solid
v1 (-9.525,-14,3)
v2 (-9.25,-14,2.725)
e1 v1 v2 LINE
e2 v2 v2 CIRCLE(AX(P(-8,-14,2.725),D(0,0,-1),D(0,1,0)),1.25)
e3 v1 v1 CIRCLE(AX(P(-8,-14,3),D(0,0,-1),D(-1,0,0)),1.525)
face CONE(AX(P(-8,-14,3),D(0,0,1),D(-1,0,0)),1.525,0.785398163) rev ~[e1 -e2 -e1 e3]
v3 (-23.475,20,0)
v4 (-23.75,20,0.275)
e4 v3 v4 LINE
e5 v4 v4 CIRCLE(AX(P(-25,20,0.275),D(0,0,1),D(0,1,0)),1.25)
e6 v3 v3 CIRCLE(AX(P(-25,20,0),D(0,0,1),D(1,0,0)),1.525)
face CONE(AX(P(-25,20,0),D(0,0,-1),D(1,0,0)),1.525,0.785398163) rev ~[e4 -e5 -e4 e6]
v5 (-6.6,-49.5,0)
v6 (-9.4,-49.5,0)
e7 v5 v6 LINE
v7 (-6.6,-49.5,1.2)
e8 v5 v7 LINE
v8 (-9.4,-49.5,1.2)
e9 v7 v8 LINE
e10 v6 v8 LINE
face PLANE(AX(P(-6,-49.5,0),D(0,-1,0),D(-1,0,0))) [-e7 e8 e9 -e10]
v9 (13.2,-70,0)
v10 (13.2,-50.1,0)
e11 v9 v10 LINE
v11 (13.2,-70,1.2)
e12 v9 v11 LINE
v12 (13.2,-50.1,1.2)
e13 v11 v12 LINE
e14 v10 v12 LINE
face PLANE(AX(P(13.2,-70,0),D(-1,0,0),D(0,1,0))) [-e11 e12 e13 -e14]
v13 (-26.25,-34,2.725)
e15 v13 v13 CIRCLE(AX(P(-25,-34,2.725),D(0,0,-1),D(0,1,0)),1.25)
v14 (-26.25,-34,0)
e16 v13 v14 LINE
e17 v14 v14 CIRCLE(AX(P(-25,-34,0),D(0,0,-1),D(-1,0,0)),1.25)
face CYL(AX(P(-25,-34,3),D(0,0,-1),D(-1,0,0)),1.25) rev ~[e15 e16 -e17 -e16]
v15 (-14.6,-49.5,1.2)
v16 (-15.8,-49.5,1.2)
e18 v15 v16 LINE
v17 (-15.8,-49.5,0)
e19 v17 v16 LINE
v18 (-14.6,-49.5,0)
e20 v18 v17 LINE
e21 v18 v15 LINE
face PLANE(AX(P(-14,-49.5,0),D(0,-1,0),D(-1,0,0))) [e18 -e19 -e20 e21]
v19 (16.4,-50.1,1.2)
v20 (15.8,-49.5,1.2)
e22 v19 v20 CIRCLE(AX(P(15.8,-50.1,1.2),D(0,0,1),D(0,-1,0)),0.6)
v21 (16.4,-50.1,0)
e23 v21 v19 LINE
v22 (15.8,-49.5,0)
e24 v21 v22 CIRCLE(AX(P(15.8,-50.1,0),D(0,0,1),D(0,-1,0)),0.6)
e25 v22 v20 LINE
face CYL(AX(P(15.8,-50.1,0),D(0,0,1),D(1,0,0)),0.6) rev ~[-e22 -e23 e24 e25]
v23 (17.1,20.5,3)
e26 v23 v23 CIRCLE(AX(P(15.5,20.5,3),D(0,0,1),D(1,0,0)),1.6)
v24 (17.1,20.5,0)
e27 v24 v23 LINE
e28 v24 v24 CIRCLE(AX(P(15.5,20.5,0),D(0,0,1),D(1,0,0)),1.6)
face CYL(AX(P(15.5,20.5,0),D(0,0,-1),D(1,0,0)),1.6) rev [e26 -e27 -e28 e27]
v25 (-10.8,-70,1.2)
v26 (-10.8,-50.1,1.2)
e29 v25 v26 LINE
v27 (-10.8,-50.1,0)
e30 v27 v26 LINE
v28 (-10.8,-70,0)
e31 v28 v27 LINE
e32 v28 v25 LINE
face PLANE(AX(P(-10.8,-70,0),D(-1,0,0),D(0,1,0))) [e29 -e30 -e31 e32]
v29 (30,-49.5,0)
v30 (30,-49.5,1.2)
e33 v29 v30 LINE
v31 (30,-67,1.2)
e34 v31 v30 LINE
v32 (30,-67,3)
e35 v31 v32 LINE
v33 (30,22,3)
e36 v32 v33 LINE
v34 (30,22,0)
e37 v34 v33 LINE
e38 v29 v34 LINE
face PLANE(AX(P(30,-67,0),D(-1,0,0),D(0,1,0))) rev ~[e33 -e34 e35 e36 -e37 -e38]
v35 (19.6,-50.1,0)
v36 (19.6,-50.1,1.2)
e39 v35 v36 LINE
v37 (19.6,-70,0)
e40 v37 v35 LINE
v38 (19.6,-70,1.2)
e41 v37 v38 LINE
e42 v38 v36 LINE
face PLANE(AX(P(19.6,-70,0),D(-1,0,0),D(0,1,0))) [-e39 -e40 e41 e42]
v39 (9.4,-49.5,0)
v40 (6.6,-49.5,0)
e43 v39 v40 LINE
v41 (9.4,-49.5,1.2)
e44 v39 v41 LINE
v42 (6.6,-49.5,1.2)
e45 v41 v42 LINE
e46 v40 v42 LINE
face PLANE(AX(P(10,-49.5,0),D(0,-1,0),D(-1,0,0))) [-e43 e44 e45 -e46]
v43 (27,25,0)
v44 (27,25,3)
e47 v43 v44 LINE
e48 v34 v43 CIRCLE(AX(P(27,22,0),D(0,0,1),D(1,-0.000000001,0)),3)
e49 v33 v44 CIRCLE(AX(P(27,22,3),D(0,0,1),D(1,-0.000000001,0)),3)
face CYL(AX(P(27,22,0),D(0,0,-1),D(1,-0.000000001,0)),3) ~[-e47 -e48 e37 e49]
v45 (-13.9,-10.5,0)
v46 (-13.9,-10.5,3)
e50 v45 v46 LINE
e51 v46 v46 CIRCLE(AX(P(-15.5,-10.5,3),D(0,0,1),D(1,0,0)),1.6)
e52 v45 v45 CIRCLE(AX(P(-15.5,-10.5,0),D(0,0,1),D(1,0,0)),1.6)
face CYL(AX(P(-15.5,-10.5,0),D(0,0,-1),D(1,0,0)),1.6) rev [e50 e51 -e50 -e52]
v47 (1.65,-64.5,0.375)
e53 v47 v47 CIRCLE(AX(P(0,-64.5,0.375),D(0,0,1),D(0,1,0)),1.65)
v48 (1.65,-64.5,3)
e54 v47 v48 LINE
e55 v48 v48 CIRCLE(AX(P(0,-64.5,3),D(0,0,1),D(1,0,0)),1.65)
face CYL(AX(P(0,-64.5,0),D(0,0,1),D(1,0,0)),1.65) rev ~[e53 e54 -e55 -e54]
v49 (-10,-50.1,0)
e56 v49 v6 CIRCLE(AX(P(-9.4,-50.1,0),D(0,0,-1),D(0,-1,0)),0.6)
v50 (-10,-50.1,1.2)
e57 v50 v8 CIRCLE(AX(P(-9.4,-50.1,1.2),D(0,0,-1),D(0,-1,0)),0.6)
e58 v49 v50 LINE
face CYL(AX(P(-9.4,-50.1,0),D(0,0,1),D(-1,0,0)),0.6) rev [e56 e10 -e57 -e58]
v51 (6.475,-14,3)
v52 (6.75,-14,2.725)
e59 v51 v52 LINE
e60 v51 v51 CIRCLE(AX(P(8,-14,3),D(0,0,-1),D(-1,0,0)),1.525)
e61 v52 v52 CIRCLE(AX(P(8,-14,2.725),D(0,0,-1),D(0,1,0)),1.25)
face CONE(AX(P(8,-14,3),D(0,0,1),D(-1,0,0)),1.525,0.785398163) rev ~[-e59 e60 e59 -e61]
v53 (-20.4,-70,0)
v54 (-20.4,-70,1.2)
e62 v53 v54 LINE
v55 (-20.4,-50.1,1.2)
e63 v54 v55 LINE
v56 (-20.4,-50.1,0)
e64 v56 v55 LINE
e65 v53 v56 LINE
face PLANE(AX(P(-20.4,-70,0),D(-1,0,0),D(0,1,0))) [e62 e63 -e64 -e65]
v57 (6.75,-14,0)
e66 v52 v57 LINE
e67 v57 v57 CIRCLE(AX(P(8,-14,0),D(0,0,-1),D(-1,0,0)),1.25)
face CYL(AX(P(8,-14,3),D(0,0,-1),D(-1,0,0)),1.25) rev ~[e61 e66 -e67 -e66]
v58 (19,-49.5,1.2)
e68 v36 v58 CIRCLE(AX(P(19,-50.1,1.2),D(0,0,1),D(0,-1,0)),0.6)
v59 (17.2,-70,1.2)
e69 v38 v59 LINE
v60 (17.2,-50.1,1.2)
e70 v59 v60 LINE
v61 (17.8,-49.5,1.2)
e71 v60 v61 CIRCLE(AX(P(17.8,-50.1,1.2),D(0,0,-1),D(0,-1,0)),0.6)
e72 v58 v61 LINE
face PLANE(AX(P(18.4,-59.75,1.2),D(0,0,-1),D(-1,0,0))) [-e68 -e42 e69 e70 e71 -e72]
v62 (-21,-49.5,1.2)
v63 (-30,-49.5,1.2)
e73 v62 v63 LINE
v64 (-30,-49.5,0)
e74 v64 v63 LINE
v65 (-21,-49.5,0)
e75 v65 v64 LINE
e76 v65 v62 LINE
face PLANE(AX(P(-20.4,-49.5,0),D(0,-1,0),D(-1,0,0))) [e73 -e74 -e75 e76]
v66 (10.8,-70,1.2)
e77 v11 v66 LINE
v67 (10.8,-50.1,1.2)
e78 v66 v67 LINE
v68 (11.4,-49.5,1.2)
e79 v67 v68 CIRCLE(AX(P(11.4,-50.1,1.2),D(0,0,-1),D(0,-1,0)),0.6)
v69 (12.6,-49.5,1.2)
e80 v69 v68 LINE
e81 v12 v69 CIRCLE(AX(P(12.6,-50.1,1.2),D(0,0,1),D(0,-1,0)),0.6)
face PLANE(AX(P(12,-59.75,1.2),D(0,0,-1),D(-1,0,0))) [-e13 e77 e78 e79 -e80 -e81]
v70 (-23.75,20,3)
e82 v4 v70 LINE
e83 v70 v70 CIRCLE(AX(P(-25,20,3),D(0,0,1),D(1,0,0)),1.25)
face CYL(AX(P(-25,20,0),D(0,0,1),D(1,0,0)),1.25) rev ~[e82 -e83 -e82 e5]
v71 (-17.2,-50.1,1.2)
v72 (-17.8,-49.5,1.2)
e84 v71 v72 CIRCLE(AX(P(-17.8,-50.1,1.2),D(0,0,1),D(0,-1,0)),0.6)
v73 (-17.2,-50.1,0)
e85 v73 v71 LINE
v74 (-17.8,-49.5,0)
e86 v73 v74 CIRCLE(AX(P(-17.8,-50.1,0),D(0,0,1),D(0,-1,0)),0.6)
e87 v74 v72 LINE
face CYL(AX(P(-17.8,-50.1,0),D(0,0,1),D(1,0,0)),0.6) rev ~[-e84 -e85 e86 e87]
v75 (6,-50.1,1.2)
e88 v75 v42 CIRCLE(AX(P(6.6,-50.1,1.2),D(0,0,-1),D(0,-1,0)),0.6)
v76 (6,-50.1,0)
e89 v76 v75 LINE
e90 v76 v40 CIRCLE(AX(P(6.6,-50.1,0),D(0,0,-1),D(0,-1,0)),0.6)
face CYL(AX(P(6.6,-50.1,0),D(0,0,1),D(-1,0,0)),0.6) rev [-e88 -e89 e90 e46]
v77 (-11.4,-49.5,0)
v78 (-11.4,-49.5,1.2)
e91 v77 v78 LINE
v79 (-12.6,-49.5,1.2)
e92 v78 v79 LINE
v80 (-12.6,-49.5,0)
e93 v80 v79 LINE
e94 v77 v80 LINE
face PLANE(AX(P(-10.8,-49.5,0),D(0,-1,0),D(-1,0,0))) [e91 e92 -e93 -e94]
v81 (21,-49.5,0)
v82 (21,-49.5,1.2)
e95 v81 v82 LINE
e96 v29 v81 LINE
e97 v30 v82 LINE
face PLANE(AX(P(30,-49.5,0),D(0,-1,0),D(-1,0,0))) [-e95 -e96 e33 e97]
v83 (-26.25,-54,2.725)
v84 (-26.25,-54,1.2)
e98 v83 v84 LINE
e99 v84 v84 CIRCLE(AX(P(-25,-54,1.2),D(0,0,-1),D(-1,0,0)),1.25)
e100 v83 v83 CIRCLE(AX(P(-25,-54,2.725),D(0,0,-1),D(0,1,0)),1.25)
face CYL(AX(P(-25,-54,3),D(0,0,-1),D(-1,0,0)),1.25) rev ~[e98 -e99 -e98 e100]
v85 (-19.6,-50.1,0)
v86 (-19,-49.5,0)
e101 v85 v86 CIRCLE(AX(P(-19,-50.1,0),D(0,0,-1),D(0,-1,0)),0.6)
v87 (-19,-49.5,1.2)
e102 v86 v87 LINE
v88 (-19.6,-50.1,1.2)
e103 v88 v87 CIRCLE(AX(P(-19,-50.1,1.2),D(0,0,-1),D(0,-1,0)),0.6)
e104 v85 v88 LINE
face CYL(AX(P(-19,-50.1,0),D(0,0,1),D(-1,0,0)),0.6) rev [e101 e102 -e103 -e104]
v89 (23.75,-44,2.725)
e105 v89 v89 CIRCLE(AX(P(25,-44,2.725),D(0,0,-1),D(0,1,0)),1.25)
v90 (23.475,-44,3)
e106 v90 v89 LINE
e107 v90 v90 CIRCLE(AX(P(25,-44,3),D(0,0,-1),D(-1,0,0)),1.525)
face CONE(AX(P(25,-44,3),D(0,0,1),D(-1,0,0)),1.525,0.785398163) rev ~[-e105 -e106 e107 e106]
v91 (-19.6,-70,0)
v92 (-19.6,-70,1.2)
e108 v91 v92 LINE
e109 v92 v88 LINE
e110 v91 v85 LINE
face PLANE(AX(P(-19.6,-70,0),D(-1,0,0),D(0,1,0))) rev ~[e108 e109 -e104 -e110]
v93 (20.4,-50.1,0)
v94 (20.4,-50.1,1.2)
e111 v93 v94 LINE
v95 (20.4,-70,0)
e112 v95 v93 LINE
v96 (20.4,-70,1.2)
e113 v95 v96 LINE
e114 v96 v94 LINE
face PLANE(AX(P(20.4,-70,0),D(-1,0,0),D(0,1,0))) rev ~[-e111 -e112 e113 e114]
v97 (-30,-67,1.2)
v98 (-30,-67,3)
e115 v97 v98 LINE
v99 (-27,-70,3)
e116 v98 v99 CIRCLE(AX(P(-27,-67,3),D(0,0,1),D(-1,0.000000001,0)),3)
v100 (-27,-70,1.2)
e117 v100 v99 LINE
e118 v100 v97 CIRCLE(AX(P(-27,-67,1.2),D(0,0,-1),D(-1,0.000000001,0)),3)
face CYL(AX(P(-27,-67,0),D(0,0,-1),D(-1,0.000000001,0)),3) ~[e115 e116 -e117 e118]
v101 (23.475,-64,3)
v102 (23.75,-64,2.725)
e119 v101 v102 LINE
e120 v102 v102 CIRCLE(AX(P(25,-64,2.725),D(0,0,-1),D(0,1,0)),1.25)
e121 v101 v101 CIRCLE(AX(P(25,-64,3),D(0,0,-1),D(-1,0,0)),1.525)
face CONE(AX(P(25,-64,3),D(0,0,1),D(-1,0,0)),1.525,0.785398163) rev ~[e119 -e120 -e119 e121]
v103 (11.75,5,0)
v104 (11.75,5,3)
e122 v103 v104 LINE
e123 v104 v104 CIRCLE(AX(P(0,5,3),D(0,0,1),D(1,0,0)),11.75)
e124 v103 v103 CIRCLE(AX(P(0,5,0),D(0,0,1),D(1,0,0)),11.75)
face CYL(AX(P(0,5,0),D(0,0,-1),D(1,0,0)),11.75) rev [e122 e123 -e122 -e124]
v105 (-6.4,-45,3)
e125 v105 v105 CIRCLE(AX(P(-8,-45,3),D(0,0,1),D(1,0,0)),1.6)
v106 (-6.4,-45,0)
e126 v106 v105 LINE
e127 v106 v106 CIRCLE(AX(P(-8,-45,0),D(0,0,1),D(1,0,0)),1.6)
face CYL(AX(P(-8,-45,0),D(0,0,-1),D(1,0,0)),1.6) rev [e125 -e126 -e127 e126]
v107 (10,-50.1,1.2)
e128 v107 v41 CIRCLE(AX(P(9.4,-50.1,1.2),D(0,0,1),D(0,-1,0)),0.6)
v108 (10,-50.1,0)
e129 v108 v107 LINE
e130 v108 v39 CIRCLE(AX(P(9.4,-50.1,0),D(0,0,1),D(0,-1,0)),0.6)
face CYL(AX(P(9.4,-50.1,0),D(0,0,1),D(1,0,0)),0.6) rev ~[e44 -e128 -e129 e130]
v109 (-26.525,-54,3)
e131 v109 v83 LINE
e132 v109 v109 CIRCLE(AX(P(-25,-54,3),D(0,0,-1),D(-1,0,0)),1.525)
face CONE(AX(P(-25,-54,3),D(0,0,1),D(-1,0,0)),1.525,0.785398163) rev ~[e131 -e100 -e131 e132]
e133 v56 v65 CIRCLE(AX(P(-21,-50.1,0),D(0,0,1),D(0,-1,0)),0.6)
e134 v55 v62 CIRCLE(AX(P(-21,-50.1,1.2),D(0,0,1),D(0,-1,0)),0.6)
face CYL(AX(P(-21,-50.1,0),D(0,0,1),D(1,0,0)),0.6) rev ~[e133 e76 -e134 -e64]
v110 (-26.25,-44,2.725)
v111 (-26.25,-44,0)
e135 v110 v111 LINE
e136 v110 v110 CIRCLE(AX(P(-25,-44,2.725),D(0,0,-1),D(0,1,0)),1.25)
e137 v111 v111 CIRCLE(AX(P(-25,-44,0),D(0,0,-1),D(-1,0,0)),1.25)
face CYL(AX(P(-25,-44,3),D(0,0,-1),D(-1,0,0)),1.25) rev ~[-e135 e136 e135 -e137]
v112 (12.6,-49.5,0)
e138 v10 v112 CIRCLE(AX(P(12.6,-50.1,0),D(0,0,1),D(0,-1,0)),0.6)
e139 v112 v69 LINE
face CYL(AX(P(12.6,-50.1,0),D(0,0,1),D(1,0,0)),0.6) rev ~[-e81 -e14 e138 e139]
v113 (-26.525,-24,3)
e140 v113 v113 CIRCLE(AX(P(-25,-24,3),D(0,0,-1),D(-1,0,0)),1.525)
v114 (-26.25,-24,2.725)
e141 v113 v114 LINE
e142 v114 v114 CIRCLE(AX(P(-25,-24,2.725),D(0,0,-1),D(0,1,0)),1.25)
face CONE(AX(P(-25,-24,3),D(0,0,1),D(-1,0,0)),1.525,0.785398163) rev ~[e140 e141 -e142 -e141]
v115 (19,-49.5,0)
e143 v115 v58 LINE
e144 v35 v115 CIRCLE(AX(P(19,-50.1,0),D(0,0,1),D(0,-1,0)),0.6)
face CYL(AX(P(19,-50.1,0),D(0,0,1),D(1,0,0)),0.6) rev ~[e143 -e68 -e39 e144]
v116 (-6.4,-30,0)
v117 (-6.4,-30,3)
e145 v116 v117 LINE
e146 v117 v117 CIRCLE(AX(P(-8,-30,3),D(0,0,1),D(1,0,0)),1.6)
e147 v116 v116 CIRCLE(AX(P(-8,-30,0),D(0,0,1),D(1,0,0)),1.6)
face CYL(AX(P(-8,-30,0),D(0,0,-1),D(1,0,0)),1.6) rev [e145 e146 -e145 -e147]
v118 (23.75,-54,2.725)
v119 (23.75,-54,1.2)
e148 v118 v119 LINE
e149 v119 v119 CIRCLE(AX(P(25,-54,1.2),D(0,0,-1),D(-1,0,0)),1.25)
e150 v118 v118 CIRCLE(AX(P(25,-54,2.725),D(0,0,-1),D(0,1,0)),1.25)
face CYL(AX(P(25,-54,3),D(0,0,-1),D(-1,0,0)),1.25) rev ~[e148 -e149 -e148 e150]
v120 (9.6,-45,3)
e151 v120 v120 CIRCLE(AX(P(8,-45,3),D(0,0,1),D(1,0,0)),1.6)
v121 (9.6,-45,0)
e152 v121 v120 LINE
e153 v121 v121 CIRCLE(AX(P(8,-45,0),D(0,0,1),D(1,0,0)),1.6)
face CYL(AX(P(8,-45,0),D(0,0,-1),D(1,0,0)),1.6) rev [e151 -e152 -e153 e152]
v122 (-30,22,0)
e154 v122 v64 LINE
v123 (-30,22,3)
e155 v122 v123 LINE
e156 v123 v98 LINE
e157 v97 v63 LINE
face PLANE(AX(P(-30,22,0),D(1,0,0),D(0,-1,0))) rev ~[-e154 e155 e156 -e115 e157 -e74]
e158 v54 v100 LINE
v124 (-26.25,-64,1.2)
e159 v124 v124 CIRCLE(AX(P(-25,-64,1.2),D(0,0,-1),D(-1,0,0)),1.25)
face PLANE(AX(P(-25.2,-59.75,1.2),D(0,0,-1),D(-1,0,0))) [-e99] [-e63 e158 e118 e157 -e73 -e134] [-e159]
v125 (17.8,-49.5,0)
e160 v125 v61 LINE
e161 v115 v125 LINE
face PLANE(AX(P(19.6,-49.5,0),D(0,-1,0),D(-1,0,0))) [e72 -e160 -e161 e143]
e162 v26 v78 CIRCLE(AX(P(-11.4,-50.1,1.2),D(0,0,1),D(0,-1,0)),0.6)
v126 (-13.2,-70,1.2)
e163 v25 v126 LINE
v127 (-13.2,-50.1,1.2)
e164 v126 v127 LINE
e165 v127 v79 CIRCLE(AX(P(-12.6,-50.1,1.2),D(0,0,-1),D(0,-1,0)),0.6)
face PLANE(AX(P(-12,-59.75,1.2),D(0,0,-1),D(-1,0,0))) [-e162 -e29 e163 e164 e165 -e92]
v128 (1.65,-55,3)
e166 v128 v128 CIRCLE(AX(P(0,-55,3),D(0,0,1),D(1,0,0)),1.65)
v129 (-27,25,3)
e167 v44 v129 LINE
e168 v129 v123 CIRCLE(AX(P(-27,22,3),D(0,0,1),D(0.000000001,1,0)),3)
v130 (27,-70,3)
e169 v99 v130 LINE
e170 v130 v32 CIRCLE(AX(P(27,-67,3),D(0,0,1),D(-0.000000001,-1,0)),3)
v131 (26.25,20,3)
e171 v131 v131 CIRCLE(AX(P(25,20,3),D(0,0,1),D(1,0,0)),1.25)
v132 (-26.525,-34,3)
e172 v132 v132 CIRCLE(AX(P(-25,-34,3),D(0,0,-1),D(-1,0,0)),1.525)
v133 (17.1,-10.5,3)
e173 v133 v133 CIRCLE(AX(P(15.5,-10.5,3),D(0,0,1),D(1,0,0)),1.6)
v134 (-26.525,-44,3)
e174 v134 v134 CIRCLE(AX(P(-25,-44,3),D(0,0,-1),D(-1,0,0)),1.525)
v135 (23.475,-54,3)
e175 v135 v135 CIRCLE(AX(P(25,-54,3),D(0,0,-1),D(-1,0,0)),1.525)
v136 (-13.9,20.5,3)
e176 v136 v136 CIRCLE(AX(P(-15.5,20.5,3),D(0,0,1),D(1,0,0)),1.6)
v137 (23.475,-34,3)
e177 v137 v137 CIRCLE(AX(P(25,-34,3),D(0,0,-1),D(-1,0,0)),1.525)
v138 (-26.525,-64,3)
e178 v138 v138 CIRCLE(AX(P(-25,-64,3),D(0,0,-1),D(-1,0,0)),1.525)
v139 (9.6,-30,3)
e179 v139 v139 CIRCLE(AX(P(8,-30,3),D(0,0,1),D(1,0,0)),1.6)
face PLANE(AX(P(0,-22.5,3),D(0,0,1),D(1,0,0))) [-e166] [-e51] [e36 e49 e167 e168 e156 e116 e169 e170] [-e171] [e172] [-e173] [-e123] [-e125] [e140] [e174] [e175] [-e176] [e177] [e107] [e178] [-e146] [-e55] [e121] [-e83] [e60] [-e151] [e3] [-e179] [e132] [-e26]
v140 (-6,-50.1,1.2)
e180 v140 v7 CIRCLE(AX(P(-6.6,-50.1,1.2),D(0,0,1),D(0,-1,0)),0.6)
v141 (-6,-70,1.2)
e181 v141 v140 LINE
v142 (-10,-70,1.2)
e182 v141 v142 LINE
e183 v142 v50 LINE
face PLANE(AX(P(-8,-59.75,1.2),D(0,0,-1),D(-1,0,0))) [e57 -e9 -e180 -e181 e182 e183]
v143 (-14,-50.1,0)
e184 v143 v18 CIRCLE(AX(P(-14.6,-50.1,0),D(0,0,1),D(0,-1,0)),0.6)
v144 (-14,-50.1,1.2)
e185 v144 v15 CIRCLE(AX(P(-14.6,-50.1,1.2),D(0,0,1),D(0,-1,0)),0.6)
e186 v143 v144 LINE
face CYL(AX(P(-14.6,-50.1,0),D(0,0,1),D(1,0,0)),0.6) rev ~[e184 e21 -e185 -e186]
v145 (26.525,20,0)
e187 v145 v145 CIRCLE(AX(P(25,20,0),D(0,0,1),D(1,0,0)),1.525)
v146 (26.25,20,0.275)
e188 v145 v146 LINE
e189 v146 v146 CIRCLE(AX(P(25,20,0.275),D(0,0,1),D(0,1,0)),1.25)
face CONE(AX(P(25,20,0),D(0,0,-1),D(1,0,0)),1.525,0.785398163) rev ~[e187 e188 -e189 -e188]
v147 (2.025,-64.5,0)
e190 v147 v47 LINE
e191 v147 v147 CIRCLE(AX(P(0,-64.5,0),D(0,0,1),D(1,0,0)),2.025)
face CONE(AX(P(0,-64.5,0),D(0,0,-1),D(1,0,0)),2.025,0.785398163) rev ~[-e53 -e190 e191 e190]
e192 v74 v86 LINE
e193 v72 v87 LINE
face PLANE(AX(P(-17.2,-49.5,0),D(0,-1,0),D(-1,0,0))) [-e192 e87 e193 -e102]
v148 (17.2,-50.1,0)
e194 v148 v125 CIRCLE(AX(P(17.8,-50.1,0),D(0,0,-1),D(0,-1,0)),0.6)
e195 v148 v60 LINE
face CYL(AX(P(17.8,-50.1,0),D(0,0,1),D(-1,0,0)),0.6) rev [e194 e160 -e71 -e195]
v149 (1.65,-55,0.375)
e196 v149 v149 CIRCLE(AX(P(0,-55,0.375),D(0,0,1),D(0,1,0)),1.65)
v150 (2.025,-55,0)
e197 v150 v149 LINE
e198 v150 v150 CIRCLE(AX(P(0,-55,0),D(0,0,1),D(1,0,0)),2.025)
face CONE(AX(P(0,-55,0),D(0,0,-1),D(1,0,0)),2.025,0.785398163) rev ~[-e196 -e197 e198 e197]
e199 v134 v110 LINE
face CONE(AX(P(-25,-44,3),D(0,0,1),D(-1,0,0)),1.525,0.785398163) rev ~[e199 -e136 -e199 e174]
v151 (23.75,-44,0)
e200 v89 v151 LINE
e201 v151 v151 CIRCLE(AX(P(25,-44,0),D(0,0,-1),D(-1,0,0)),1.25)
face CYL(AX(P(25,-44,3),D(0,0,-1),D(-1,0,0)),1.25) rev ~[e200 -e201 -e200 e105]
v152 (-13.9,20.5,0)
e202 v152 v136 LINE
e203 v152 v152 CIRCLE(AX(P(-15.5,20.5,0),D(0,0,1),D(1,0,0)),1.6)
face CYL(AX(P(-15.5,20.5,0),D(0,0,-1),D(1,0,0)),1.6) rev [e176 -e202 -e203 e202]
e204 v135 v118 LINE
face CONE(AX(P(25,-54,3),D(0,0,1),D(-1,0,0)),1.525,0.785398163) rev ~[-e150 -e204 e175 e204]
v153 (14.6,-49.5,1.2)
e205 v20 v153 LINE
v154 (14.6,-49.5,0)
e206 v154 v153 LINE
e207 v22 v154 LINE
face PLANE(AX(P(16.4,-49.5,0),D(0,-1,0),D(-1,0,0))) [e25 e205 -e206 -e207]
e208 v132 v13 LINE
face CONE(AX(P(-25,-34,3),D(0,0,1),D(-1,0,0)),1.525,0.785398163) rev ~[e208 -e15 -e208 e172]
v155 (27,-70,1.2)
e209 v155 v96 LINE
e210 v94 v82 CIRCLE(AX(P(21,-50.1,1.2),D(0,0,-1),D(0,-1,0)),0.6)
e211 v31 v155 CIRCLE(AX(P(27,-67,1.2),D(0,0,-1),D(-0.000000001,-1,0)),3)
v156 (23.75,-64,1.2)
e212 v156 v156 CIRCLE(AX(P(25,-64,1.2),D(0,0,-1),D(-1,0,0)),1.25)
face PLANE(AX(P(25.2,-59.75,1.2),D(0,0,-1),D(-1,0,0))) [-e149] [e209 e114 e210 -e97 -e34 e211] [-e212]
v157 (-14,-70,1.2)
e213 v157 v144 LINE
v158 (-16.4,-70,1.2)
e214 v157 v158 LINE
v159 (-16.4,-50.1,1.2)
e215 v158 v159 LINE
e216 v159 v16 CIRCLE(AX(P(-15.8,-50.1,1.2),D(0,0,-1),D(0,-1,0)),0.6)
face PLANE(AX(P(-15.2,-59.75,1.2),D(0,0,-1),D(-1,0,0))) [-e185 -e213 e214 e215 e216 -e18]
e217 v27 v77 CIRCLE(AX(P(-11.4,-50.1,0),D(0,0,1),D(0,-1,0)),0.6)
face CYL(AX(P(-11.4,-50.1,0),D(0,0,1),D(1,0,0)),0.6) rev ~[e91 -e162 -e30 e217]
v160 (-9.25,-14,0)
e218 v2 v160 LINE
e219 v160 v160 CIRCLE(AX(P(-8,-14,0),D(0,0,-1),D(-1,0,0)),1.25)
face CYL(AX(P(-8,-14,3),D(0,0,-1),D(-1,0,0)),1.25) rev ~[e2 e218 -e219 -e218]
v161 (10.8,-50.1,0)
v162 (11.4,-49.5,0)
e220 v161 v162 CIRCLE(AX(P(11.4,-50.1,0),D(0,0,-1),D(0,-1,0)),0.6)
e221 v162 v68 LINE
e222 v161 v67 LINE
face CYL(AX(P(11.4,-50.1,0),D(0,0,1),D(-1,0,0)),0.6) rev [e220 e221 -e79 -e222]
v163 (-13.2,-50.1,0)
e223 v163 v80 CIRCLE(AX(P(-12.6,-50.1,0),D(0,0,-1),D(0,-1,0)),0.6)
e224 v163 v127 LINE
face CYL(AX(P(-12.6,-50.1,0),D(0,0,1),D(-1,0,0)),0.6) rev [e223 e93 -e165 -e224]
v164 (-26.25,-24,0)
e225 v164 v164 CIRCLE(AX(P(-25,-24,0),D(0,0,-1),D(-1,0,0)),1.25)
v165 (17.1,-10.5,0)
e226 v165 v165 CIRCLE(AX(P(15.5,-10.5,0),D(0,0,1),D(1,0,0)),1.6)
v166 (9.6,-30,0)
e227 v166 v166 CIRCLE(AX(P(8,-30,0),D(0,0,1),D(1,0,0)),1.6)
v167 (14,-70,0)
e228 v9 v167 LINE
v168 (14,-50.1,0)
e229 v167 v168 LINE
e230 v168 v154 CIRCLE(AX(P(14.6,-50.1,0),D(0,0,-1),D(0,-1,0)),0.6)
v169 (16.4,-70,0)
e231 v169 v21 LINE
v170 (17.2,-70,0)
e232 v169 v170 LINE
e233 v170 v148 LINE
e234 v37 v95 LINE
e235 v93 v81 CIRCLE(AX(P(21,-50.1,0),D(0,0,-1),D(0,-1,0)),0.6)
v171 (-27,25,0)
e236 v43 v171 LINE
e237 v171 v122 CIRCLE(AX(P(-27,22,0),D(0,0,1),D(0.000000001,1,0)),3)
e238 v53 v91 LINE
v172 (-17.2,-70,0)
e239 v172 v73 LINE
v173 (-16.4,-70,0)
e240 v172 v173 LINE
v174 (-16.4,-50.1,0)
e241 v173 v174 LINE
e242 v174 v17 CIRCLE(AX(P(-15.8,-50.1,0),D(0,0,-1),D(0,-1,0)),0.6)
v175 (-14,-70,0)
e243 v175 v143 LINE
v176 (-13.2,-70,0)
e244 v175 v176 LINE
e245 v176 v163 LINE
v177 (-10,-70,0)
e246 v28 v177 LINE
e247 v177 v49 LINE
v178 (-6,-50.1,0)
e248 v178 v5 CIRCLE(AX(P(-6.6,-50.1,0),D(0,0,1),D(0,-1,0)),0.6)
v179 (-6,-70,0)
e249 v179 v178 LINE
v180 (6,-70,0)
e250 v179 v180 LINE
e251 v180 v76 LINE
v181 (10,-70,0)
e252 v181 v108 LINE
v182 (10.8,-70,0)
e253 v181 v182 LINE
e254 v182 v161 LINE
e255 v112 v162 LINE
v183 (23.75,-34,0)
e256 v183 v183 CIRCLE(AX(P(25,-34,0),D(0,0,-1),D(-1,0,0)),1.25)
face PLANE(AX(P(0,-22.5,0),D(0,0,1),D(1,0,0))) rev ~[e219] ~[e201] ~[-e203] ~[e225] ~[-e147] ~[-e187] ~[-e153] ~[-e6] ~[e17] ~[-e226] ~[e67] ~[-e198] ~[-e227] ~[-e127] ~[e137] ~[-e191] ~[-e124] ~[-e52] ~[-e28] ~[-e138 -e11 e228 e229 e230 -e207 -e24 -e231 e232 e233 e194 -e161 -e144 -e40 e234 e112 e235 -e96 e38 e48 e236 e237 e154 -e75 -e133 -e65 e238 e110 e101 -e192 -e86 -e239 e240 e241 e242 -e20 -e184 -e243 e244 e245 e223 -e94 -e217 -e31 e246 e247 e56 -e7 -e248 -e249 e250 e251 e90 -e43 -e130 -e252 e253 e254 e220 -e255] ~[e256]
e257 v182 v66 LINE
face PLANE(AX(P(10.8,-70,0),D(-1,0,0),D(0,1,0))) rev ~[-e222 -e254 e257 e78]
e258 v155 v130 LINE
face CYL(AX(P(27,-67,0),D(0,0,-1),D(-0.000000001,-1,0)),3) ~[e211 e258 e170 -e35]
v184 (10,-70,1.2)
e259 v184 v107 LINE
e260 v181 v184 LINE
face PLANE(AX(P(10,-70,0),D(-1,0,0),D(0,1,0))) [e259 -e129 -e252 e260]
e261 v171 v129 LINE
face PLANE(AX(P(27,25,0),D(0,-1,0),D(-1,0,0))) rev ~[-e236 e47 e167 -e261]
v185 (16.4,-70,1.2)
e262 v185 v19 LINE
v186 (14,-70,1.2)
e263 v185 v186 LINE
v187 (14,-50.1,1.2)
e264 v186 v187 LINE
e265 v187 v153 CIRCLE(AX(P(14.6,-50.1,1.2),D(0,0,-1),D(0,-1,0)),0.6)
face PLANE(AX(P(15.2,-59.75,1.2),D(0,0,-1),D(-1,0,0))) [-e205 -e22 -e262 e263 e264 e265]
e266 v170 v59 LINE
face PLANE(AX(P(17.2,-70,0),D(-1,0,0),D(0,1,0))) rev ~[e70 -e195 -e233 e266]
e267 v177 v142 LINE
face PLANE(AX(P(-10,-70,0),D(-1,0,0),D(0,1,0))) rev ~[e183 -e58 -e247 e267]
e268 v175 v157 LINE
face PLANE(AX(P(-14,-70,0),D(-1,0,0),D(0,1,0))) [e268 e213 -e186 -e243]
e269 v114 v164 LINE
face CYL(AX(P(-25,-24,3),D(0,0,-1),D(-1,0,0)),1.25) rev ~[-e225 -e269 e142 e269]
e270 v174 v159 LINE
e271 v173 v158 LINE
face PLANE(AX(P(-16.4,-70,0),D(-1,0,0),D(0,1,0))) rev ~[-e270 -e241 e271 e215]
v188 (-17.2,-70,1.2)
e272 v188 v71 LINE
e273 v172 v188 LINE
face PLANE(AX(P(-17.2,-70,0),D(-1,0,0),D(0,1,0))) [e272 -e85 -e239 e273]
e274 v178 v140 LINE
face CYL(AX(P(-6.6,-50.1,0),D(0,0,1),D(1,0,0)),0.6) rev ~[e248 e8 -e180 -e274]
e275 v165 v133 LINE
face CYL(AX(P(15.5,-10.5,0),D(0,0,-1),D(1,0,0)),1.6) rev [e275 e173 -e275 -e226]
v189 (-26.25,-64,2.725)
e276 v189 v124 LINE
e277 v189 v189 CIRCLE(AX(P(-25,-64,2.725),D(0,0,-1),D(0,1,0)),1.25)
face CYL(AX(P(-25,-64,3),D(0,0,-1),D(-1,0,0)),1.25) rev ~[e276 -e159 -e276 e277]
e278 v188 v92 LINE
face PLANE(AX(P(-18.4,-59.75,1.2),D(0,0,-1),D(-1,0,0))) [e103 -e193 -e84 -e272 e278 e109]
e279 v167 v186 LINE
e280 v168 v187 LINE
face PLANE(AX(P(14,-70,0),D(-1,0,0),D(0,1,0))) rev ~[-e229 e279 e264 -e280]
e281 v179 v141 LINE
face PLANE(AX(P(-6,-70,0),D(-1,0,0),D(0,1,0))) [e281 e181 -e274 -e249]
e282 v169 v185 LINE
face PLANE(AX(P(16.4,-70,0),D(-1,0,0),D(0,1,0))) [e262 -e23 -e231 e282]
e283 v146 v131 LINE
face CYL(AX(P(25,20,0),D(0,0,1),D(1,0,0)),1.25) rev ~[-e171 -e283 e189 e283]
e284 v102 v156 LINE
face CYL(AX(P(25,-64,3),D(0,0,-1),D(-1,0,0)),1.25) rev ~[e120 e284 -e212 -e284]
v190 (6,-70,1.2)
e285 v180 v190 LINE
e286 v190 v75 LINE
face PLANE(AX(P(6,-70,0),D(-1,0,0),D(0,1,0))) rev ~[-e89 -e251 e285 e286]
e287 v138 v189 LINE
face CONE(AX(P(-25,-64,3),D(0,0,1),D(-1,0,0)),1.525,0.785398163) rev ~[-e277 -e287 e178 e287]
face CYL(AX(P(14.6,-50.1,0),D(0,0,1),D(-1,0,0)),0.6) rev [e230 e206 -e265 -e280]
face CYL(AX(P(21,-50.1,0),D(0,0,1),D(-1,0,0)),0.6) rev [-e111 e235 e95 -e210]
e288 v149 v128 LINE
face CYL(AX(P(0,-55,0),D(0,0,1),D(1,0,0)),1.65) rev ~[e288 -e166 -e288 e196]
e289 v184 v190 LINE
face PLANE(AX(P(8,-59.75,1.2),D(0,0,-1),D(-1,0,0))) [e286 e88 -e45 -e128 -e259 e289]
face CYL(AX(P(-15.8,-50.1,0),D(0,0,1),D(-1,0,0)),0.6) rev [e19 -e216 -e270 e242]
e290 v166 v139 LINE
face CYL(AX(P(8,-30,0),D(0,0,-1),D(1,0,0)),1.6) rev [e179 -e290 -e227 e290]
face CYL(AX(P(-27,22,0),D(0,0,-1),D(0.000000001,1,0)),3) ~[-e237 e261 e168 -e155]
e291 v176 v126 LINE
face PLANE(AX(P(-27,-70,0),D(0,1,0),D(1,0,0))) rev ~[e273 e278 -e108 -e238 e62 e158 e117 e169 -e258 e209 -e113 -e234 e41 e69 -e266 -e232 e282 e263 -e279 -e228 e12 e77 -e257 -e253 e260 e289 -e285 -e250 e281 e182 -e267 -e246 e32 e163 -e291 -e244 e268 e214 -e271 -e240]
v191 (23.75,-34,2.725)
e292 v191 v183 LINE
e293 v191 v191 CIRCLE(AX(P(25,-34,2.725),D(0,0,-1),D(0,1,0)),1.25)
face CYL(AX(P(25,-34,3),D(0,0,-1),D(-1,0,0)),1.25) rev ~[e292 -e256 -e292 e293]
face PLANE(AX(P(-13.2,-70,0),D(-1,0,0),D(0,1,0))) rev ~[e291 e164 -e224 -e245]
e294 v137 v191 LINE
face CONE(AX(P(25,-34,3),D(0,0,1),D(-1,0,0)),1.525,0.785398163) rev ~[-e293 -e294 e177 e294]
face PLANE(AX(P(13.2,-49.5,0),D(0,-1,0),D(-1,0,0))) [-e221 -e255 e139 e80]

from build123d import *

# Parameters (mm, degrees)
SKETCH_1_R           = 11.75
SKETCH_1_R_2         = 1.6
EXTRUDE_1_DEPTH      = 3
M3X0_5_4_D           = 2.5
M3X0_5_4_CSINK_D     = 3.05
M3X0_5_4_CSINK_ANGLE = 90
M4X0_7_1_D           = 3.3
M4X0_7_1_CSINK_D     = 4.05
M4X0_7_1_CSINK_ANGLE = 90
M3X0_5_5_D           = 2.5
M3X0_5_5_CSINK_D     = 3.05
M3X0_5_5_CSINK_ANGLE = 90
SKETCH_23_W          = 9.6
SKETCH_23_H          = 20.5
SKETCH_23_W_2        = 2.4
SKETCH_23_W_3        = 4
CUT_EXTRUDE_4_DEPTH  = 1.2
FILLET_1_R           = 0.6


with BuildPart() as part:
    # 草图1 → 凸台-拉伸1 (new body)
    with BuildSketch(Plane.XY):
        with BuildLine():
            Line((-30, -25), (-30, -67))
            ThreePointArc((-30, -67), (-29.121320344, -69.121320344), (-27, -70))
            Line((-27, -70), (27, -70))
            ThreePointArc((27, -70), (29.121320344, -69.121320344), (30, -67))
            Line((30, -67), (30, 22))
            ThreePointArc((30, 22), (29.121320344, 24.121320344), (27, 25))
            Line((27, 25), (-27, 25))
            ThreePointArc((-27, 25), (-29.121320344, 24.121320344), (-30, 22))
            Line((-30, 22), (-30, -25))
        make_face()
        with Locations((0, 5)):
            Circle(SKETCH_1_R, mode=Mode.SUBTRACT)
        with Locations((15.5, 20.5)):
            Circle(SKETCH_1_R_2, mode=Mode.SUBTRACT)
        with Locations((-15.5, 20.5)):
            Circle(SKETCH_1_R_2, mode=Mode.SUBTRACT)
        with Locations((-15.5, -10.5)):
            Circle(SKETCH_1_R_2, mode=Mode.SUBTRACT)
        with Locations((15.5, -10.5)):
            Circle(SKETCH_1_R_2, mode=Mode.SUBTRACT)
        with Locations((-8, -30)):
            Circle(SKETCH_1_R_2, mode=Mode.SUBTRACT)
        with Locations((8, -30)):
            Circle(SKETCH_1_R_2, mode=Mode.SUBTRACT)
        with Locations((-8, -45)):
            Circle(SKETCH_1_R_2, mode=Mode.SUBTRACT)
        with Locations((8, -45)):
            Circle(SKETCH_1_R_2, mode=Mode.SUBTRACT)
    extrude(amount=EXTRUDE_1_DEPTH)

    # M3x0.5 螺纹孔4 (through all)
    with Locations(Plane.XY.offset(3)):
        with Locations((-25, -44), (-25, -54), (25, -44), (25, -54), (25, -64), (-25, -64), (-8, -14), (8, -14), (25, -34), (-25, -34), (-25, -24)):
            CounterSinkHole(M3X0_5_4_D / 2, M3X0_5_4_CSINK_D / 2, counter_sink_angle=M3X0_5_4_CSINK_ANGLE)

    # M4x0.7 螺纹孔1 (through all)
    with Locations(Plane(origin=(0, 0, 0), x_dir=(-1, 0, 0), z_dir=(0, 0, -1))):
        with Locations((0, -55), (0, -64.5)):
            CounterSinkHole(M4X0_7_1_D / 2, M4X0_7_1_CSINK_D / 2, counter_sink_angle=M4X0_7_1_CSINK_ANGLE)

    # M3x0.5 螺纹孔5 (through all)
    with Locations(Plane(origin=(0, 0, 0), x_dir=(-1, 0, 0), z_dir=(0, 0, -1))):
        with Locations((-25, 20), (25, 20)):
            CounterSinkHole(M3X0_5_5_D / 2, M3X0_5_5_CSINK_D / 2, counter_sink_angle=M3X0_5_5_CSINK_ANGLE)

    # 草图23 → 切除-拉伸4 (cut)
    with BuildSketch(Plane(origin=(0, 0, 0), x_dir=(-1, 0, 0), z_dir=(0, 0, -1))):
        with Locations((-25.2, -59.75)):
            Rectangle(SKETCH_23_W, SKETCH_23_H)
        with Locations((25.2, -59.75)):
            Rectangle(SKETCH_23_W, SKETCH_23_H)
        with Locations((-18.4, -59.75)):
            Rectangle(SKETCH_23_W_2, SKETCH_23_H)
        with Locations((-15.2, -59.75)):
            Rectangle(SKETCH_23_W_2, SKETCH_23_H)
        with Locations((-12, -59.75)):
            Rectangle(SKETCH_23_W_2, SKETCH_23_H)
        with Locations((-8, -59.75)):
            Rectangle(SKETCH_23_W_3, SKETCH_23_H)
        with Locations((12, -59.75)):
            Rectangle(SKETCH_23_W_2, SKETCH_23_H)
        with Locations((8, -59.75)):
            Rectangle(SKETCH_23_W_3, SKETCH_23_H)
        with Locations((15.2, -59.75)):
            Rectangle(SKETCH_23_W_2, SKETCH_23_H)
        with Locations((18.4, -59.75)):
            Rectangle(SKETCH_23_W_2, SKETCH_23_H)
    extrude(amount=-CUT_EXTRUDE_4_DEPTH, mode=Mode.SUBTRACT)

    # 圆角1
    fillet_1_edges = [part.edges().sort_by_distance(p)[0] for p in [
        (20.4, -49.5, 0.6),
        (-17.2, -49.5, 0.6),
        (-19.6, -49.5, 0.6),
        (13.2, -49.5, 0.6),
        (10.8, -49.5, 0.6),
        (16.4, -49.5, 0.6),
        (14, -49.5, 0.6),
        (19.6, -49.5, 0.6),
        (17.2, -49.5, 0.6),
        (-20.4, -49.5, 0.6),
        (-14, -49.5, 0.6),
        (-16.4, -49.5, 0.6),
        (-6, -49.5, 0.6),
        (-10, -49.5, 0.6),
        (-10.8, -49.5, 0.6),
        (-13.2, -49.5, 0.6),
        (10, -49.5, 0.6),
        (6, -49.5, 0.6),
    ]]
    fillet(fillet_1_edges, radius=FILLET_1_R)


solid = part.part
